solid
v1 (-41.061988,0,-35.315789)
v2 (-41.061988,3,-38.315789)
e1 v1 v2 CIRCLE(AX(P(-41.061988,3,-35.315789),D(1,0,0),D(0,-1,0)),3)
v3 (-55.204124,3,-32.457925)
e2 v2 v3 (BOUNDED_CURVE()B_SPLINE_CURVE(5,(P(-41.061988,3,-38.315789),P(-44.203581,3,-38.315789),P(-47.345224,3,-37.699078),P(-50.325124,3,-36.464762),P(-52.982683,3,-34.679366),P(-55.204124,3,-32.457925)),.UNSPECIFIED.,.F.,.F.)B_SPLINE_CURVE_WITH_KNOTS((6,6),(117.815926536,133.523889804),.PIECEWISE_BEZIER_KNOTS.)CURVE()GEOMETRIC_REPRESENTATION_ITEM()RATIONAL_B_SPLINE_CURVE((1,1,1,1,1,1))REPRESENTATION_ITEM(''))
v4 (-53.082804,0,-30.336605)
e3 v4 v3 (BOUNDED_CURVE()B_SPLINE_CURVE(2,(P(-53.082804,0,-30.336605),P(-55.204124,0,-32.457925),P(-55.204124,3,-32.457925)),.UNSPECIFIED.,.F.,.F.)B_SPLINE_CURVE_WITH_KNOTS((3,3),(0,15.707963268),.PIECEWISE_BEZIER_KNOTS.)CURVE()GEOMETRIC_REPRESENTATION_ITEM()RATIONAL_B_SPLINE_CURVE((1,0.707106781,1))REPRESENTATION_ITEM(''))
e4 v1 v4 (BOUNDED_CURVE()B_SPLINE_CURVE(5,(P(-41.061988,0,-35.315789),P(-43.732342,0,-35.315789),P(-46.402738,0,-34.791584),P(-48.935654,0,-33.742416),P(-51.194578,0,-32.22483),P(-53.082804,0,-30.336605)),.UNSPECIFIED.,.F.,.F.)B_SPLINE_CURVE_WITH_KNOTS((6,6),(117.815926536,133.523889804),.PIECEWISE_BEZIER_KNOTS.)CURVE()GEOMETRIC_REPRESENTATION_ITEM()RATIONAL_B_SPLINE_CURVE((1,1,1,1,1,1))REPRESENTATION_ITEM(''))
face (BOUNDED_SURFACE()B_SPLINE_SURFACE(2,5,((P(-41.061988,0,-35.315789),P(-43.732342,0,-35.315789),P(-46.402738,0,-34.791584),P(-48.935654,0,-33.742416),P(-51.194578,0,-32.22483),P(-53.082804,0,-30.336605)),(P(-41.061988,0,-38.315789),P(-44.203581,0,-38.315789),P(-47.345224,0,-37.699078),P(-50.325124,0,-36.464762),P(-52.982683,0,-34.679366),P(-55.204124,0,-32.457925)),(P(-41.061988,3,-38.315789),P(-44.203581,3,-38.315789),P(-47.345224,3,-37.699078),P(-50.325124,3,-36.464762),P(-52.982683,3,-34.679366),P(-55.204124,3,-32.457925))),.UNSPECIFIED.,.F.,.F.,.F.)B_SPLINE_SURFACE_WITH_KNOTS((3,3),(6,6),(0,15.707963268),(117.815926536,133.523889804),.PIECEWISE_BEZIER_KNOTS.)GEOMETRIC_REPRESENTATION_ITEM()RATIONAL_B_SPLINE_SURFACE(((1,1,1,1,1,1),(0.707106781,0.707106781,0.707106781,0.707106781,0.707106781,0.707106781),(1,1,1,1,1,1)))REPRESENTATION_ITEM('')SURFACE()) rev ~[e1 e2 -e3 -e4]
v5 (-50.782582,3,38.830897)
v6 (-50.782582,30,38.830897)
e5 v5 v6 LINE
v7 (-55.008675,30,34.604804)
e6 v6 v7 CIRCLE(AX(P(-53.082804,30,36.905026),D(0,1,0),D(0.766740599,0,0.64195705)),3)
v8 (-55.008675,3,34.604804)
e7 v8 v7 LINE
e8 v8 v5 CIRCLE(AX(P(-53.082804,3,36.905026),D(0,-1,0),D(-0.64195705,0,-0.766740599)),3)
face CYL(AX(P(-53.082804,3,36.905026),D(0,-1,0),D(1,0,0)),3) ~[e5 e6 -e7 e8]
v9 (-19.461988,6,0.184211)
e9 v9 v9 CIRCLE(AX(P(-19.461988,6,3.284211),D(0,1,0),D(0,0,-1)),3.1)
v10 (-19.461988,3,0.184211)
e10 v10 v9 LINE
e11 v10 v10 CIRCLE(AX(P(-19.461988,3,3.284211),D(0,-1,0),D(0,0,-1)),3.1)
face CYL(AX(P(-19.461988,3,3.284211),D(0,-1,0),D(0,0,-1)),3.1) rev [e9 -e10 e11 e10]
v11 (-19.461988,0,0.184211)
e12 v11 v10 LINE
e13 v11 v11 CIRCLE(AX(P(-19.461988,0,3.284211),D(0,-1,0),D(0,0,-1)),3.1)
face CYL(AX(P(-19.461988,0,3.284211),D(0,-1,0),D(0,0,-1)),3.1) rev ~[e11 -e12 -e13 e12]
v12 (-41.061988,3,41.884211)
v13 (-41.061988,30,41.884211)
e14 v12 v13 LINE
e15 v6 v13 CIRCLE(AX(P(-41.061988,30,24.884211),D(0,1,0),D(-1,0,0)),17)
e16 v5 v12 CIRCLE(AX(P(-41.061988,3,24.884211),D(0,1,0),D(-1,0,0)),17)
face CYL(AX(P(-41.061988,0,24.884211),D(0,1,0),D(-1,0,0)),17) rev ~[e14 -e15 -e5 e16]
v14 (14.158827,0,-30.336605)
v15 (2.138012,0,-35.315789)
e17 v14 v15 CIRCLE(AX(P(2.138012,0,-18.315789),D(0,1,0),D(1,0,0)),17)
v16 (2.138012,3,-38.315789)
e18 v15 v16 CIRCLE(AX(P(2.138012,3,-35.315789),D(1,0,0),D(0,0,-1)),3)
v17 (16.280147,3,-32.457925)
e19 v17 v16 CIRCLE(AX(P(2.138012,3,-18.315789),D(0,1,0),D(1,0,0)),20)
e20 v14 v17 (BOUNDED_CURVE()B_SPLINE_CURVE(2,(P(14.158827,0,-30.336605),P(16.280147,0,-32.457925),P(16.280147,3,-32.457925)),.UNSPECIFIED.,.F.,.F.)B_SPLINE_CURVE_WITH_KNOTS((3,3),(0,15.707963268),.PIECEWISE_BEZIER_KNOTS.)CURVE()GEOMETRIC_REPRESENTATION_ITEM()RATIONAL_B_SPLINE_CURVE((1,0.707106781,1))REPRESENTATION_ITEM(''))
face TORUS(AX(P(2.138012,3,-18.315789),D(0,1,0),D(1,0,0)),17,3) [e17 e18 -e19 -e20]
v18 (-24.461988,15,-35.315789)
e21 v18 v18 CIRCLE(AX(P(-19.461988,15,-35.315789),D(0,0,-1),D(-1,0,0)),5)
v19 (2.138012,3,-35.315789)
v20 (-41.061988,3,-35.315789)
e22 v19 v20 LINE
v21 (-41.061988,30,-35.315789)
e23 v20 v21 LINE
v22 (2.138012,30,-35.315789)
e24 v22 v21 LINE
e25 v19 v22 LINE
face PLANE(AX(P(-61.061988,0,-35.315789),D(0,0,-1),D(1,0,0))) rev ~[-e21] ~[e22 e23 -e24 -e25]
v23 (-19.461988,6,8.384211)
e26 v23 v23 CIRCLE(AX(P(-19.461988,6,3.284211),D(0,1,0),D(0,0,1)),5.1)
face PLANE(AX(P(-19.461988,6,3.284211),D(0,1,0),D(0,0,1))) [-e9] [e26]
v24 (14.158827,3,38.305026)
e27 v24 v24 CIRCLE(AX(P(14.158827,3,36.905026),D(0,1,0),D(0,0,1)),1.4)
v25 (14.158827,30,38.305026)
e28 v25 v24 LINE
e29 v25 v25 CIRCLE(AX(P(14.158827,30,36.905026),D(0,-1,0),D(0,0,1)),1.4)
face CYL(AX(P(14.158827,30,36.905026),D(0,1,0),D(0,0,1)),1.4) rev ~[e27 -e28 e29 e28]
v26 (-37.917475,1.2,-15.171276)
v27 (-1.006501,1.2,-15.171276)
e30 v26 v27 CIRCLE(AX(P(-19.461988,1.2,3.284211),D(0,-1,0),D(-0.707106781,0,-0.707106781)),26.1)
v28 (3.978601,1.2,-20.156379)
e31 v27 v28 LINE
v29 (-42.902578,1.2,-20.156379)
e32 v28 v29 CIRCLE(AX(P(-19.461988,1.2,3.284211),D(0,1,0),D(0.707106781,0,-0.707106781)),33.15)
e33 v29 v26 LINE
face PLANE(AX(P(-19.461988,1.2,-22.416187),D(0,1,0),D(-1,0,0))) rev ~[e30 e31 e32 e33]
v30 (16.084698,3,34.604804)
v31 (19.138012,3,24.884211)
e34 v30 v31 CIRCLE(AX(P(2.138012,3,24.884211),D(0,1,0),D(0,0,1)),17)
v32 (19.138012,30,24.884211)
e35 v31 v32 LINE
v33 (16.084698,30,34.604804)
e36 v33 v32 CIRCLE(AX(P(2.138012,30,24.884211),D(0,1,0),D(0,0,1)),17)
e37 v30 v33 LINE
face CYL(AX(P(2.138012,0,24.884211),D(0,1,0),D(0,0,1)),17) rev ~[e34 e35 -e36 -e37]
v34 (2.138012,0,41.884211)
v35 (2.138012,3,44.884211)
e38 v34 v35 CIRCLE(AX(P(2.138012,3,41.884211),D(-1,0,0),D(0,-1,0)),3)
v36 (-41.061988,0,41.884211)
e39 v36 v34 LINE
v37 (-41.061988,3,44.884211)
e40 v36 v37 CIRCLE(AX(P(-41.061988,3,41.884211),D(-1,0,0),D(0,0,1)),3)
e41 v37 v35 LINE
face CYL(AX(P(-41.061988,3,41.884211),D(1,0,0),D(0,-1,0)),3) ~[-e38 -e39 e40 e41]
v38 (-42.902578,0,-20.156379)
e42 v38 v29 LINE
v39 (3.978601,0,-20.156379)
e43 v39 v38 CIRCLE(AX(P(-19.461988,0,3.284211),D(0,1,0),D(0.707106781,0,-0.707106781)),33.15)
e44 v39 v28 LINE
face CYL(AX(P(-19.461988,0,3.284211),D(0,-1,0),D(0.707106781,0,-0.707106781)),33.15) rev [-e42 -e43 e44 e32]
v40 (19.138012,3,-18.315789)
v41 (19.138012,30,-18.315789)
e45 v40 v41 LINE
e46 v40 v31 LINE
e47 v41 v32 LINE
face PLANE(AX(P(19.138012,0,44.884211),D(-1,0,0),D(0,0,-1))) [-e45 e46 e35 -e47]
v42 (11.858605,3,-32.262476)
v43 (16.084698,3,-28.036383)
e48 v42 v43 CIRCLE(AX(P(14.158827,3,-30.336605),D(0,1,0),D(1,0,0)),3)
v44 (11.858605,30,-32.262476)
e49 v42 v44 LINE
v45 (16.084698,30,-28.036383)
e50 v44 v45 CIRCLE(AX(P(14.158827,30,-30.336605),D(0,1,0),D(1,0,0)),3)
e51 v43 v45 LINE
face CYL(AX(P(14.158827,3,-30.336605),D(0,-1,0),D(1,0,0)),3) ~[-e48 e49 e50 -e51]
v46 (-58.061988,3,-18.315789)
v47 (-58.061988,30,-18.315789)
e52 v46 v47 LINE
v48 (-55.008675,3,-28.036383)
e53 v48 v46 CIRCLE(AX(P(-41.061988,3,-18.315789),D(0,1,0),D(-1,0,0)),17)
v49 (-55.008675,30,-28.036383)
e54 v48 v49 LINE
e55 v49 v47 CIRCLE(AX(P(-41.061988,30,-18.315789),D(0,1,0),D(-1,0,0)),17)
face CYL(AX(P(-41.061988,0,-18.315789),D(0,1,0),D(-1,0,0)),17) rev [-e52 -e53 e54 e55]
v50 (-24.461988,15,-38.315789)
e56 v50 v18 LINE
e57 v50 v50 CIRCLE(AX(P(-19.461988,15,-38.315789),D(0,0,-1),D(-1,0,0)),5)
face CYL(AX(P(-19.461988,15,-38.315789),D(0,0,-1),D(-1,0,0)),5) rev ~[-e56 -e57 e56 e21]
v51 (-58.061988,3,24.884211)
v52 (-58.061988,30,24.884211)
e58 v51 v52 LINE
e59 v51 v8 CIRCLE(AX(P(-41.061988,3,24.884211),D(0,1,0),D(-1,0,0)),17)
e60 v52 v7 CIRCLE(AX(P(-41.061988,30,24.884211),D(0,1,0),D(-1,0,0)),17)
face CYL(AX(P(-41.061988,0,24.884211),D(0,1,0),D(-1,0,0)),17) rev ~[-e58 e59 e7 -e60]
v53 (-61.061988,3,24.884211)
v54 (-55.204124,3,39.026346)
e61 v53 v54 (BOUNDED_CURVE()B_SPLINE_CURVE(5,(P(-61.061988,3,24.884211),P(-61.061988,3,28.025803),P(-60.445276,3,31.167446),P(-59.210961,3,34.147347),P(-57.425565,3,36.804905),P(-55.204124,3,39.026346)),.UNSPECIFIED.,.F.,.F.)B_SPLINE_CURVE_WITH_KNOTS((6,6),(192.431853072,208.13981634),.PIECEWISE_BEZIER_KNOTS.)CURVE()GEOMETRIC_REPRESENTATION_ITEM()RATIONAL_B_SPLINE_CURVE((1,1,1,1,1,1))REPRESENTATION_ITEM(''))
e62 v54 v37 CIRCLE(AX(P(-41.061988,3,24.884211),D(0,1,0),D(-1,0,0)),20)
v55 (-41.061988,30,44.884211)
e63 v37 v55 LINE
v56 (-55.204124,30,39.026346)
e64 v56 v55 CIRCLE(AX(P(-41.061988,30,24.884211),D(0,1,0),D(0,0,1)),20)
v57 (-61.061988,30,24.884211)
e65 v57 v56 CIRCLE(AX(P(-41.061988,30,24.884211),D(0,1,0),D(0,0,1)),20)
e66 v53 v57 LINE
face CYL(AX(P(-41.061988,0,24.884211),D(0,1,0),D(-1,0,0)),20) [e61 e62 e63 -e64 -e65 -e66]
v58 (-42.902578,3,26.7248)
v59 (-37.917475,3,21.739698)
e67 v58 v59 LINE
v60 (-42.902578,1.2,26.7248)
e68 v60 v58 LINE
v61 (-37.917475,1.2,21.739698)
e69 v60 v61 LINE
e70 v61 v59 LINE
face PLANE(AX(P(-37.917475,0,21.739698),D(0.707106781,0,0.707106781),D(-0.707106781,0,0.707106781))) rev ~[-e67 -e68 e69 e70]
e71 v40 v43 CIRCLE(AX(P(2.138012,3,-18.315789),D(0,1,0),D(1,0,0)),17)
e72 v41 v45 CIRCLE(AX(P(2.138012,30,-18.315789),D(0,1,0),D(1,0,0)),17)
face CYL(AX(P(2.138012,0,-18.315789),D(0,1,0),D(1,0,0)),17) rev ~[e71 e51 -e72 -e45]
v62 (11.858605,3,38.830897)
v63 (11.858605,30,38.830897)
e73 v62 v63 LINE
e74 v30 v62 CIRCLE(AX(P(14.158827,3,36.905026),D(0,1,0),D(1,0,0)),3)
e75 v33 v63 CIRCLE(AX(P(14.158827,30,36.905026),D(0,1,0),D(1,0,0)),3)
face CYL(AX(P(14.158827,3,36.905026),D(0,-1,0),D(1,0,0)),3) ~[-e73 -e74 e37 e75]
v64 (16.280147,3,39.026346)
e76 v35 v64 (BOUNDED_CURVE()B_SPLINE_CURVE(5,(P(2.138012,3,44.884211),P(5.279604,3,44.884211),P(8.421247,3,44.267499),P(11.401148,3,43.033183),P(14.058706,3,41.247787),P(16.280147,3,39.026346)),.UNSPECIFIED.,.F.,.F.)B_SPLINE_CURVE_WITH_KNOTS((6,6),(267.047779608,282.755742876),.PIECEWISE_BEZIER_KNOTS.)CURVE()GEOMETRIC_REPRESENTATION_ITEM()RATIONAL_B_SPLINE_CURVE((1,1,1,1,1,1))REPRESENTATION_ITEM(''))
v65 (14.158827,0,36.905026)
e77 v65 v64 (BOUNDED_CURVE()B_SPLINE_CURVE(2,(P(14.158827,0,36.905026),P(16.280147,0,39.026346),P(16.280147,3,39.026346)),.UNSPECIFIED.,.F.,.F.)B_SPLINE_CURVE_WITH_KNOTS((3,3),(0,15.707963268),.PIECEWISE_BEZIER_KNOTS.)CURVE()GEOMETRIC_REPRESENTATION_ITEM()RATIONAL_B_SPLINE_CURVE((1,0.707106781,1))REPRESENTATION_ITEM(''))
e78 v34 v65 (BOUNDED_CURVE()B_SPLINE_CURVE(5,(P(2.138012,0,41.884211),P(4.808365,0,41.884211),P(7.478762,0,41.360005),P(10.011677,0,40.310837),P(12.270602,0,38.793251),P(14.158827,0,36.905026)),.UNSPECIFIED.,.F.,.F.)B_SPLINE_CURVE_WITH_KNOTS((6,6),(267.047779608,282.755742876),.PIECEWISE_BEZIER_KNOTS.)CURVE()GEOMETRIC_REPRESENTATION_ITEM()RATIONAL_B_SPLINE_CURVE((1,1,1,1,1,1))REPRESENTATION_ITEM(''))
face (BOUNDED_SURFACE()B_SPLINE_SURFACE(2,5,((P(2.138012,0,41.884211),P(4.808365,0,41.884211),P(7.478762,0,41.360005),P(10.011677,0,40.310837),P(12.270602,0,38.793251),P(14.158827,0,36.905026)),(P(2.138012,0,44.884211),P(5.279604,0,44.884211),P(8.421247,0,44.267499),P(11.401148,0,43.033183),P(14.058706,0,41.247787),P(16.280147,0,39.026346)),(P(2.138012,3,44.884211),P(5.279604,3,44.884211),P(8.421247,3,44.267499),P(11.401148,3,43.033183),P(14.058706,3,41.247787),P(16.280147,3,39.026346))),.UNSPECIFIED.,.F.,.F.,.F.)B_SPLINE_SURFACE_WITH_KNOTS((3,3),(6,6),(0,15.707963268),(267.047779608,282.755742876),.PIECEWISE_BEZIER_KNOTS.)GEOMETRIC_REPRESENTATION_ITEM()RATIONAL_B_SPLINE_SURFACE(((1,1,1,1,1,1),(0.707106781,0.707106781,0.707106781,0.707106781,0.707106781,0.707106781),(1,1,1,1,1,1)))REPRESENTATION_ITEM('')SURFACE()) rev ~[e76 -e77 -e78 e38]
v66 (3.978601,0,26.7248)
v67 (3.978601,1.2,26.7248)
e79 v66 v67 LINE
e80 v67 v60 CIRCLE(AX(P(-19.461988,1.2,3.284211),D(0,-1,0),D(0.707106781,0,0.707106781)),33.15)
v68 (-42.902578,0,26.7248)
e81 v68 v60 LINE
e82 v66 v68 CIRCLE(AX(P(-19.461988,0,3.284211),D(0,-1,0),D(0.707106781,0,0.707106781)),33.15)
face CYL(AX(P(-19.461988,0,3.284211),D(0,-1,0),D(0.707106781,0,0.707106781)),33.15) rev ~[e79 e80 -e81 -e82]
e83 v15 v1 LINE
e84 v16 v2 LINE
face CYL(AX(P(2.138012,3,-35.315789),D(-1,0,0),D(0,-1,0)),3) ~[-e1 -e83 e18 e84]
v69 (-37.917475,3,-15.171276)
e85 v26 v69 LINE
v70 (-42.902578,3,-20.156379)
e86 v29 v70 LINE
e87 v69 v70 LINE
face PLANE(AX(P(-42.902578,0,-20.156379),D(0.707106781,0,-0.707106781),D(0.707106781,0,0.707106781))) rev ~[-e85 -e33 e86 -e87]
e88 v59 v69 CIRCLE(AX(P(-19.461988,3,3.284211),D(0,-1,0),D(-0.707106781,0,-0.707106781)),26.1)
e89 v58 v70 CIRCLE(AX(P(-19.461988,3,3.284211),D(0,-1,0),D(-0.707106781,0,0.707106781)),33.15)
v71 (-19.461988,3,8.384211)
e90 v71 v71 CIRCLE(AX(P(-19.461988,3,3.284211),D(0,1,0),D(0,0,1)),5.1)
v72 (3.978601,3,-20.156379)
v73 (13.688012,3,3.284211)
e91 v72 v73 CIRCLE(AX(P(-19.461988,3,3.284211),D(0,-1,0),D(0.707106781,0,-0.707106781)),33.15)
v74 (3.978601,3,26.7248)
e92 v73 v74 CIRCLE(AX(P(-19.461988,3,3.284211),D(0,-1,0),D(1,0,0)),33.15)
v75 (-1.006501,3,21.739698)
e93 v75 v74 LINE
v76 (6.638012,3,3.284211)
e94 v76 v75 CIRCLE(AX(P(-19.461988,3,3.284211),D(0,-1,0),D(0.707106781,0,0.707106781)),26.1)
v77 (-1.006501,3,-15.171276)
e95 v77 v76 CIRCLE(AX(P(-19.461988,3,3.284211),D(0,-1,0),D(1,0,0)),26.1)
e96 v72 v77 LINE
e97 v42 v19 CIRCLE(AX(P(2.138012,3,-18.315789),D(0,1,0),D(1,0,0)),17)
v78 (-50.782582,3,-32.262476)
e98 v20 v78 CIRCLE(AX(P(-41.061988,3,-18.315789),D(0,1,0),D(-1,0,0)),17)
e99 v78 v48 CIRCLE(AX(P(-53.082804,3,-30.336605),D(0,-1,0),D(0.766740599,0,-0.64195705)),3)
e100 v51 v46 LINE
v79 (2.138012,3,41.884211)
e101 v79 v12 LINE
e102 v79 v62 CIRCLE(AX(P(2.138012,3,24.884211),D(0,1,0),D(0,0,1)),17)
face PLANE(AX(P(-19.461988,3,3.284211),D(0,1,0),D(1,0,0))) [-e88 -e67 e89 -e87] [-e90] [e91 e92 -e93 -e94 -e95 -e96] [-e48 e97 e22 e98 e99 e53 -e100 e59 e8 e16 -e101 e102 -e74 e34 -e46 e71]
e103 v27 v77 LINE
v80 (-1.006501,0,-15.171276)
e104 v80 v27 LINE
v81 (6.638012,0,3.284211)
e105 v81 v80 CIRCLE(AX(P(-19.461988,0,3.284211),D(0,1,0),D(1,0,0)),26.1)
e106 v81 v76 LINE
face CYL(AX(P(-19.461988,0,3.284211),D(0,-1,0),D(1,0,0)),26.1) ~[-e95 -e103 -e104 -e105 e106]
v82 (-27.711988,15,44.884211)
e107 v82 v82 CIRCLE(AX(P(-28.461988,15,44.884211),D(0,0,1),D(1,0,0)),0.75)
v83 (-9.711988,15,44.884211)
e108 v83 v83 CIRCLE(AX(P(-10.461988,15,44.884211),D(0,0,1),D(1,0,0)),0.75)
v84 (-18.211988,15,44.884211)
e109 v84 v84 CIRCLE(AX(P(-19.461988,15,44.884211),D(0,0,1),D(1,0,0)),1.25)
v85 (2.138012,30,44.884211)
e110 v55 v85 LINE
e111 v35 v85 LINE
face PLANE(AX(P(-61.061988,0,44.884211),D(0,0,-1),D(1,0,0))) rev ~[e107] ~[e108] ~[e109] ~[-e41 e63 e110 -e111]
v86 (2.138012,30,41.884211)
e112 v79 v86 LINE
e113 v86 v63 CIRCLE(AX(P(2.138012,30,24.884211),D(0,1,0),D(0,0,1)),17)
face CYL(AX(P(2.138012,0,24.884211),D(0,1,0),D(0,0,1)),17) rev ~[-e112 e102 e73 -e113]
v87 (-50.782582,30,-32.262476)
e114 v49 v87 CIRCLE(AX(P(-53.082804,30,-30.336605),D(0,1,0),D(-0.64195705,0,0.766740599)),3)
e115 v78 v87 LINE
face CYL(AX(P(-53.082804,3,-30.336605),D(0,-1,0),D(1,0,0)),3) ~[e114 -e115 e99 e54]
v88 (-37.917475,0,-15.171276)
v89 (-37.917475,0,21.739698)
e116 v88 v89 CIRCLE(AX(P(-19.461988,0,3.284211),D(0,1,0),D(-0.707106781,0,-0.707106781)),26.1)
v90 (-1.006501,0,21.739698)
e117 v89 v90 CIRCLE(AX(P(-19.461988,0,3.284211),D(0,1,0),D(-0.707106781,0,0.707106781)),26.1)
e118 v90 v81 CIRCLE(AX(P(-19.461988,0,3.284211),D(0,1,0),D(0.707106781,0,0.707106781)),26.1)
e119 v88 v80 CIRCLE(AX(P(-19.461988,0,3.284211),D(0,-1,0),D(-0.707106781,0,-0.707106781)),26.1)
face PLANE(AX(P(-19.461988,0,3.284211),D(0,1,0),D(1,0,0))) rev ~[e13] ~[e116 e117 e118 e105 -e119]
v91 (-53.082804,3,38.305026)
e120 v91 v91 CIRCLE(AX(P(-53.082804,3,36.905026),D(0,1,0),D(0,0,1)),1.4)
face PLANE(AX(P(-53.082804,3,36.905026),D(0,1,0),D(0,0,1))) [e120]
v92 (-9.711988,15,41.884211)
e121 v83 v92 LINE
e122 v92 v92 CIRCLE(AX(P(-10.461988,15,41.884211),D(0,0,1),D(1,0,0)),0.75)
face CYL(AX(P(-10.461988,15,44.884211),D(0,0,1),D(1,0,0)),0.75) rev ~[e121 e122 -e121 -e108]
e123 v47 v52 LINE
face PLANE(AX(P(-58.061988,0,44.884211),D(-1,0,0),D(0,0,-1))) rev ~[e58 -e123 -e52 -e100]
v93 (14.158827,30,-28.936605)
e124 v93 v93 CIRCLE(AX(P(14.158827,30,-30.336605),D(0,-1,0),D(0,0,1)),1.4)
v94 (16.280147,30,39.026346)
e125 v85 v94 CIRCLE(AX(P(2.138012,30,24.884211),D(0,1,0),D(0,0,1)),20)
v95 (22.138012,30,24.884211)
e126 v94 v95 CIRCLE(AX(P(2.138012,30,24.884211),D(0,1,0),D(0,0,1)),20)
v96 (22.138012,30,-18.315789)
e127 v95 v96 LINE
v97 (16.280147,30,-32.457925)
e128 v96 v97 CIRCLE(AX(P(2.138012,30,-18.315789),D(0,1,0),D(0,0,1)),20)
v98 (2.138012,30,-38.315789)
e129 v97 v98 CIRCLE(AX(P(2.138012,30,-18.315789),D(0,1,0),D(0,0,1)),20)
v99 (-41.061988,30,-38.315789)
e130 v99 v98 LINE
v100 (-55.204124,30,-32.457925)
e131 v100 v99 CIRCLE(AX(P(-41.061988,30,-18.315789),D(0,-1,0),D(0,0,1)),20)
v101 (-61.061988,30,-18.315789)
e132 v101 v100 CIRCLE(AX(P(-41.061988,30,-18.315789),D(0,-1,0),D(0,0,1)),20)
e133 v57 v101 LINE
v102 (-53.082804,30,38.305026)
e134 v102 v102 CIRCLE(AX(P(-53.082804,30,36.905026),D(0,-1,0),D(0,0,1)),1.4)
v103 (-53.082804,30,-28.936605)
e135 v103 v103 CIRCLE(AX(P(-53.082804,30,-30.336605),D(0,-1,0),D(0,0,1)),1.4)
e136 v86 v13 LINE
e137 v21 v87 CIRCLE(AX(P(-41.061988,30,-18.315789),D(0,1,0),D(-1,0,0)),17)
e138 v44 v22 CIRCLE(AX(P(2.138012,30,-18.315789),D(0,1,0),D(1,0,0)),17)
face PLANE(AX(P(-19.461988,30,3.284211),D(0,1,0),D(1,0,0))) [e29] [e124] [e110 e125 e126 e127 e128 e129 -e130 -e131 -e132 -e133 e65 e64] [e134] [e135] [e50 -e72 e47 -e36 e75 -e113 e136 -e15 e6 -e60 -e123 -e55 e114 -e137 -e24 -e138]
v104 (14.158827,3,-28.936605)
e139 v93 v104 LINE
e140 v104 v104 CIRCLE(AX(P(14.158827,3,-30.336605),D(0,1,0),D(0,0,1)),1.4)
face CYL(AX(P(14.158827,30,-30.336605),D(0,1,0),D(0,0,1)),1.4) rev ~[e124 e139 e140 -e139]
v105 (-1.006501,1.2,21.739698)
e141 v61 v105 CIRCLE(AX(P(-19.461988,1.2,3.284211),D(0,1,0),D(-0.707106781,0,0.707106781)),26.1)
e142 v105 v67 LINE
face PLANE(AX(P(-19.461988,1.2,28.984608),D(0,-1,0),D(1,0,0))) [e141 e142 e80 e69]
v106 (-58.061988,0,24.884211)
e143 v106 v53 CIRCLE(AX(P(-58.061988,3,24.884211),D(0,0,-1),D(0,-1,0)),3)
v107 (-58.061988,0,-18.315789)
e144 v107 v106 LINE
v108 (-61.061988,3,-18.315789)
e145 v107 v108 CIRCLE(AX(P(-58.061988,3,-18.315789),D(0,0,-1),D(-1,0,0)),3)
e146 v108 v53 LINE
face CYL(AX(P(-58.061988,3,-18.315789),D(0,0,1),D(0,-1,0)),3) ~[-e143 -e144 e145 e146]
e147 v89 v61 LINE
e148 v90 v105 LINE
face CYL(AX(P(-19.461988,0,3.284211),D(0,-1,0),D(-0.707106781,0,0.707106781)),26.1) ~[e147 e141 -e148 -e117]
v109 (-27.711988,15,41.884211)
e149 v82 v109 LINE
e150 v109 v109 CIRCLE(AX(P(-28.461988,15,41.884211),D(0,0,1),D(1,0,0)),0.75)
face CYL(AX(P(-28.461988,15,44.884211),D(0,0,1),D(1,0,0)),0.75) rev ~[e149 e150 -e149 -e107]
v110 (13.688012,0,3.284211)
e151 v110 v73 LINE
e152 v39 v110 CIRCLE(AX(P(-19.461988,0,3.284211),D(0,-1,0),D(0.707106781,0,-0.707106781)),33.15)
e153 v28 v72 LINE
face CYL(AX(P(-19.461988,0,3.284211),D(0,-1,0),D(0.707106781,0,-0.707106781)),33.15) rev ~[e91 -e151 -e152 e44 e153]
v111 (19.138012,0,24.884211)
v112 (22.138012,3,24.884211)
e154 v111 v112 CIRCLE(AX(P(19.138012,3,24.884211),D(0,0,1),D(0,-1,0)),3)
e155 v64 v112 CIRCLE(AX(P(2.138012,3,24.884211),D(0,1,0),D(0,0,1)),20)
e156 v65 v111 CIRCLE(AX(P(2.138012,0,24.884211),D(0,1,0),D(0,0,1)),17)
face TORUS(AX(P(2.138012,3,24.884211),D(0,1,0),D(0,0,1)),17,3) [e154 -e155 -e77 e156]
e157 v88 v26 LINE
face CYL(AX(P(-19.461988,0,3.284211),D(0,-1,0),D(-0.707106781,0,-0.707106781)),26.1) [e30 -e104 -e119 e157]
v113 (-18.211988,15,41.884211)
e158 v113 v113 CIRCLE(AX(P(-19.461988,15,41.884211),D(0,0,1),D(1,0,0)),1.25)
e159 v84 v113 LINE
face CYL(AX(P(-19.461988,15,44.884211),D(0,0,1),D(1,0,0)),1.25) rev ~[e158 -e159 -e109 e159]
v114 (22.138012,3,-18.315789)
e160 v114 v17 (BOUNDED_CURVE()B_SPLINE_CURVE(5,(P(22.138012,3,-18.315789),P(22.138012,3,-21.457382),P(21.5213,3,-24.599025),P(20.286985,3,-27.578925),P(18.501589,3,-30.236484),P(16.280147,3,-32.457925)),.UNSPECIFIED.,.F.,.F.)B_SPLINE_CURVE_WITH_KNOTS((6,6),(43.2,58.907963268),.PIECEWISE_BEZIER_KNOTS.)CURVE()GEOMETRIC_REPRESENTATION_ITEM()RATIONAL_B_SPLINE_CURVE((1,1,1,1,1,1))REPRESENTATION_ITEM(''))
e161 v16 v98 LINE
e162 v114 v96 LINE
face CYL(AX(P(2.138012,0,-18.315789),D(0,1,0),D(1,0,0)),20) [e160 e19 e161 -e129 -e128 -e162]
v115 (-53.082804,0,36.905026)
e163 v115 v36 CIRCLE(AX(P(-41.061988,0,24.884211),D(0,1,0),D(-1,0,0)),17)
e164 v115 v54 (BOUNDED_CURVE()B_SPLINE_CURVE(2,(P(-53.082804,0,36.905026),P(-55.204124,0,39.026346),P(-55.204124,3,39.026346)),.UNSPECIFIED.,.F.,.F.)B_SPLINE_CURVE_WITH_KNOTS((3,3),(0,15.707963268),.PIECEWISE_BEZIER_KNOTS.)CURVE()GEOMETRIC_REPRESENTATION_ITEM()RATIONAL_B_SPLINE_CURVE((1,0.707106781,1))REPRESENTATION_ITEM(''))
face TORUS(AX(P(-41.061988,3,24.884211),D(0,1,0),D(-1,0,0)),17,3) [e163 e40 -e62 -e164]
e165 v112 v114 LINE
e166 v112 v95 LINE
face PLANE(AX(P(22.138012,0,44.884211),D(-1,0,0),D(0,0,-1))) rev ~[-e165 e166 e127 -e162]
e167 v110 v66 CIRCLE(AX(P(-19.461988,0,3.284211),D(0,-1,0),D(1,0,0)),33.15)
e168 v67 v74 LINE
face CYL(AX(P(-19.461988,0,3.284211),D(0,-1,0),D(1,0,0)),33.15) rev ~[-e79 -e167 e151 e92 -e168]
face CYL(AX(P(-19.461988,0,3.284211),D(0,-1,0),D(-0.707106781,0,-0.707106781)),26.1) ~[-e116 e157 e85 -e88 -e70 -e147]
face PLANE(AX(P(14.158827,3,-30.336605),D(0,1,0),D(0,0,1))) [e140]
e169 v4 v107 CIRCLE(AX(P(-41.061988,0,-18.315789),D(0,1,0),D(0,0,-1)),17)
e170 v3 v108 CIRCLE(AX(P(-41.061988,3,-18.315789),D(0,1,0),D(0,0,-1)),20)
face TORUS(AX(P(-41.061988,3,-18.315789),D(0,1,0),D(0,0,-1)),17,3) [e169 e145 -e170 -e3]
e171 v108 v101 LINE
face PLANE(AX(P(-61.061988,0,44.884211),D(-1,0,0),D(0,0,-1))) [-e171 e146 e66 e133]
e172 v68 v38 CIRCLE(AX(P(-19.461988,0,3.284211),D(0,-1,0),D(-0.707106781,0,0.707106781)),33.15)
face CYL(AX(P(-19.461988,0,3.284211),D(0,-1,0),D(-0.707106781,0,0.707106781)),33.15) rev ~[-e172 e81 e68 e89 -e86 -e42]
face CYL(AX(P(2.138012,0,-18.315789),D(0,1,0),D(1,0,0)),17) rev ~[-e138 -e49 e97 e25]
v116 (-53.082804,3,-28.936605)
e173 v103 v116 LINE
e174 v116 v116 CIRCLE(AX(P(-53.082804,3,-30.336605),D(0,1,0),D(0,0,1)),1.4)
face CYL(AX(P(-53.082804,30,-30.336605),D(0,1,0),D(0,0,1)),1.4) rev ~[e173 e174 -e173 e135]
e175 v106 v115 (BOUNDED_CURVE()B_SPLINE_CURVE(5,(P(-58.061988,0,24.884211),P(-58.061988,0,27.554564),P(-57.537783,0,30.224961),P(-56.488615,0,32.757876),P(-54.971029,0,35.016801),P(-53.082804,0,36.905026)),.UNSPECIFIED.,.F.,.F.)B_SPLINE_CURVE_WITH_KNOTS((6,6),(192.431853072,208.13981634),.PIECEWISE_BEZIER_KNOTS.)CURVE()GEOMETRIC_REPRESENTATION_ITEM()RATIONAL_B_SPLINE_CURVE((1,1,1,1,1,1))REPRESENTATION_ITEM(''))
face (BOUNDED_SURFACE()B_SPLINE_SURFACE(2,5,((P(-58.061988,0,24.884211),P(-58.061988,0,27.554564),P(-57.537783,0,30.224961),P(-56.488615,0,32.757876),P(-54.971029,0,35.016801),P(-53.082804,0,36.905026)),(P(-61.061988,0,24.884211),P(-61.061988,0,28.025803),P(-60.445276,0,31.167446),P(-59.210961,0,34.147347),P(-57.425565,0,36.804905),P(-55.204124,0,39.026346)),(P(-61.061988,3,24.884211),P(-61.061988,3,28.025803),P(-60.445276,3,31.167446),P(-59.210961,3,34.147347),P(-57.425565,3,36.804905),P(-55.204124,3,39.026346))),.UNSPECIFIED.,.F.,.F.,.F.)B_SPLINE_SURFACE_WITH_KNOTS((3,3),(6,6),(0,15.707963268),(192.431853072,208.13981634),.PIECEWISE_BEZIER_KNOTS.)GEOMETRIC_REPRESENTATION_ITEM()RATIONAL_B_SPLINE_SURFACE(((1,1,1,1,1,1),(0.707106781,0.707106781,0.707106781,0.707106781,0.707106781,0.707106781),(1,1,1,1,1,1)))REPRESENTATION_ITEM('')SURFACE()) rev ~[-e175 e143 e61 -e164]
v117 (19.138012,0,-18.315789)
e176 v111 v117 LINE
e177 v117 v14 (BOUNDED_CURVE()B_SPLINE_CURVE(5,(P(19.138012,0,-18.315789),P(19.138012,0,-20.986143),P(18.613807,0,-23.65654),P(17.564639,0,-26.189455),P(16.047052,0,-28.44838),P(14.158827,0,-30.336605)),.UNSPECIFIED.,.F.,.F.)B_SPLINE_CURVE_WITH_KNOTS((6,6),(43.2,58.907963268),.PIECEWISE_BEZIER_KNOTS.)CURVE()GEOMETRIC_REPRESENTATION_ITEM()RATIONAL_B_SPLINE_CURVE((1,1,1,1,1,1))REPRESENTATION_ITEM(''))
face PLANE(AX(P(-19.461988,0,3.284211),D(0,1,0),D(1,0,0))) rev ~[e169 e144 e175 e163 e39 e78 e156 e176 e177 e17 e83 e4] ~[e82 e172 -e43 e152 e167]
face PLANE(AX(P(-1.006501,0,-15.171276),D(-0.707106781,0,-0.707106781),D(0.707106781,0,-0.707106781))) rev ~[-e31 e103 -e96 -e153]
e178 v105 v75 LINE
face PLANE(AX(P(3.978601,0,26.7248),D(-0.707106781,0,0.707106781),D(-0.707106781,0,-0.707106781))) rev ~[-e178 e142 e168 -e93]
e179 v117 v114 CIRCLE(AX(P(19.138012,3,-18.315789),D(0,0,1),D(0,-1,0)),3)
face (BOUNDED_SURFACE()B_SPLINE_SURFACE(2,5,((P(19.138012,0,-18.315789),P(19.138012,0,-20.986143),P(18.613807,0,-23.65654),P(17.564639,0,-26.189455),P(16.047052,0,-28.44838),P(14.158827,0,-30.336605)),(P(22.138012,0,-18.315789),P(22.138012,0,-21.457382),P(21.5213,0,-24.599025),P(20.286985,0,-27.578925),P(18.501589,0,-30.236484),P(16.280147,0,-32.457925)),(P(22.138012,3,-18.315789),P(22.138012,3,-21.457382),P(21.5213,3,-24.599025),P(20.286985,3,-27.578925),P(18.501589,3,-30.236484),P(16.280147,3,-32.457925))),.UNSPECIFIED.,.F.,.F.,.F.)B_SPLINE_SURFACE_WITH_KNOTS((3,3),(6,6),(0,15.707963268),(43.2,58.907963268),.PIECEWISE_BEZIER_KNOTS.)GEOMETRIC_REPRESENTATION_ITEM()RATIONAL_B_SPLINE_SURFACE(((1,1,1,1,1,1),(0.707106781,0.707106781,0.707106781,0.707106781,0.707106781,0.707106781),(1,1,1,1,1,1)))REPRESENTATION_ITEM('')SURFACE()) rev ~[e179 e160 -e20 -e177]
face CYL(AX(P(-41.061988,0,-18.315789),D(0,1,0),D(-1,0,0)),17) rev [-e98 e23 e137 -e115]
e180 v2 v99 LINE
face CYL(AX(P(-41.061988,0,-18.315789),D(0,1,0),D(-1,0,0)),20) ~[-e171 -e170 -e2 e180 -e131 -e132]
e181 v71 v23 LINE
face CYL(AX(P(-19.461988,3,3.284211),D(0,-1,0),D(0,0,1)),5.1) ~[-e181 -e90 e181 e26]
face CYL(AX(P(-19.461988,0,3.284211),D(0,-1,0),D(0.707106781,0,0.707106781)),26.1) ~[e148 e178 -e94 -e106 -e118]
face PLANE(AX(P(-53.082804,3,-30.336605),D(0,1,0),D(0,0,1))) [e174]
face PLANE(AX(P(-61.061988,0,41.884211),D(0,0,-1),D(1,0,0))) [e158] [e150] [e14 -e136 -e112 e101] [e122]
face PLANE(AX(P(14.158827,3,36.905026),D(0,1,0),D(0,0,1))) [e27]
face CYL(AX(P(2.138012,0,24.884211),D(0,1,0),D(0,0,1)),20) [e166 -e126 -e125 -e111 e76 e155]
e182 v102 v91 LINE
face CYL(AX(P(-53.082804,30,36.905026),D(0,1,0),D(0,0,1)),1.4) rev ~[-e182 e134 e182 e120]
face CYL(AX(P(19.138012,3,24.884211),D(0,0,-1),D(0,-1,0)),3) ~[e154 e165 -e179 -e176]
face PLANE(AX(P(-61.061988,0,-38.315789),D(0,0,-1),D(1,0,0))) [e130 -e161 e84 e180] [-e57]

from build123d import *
from build123d.topology import SkipClean

# Parameters (mm, degrees)
SKETCH1_W           = 83.2
SKETCH1_H           = 83.2
BOSS_EXTRUDE1_DEPTH = 30
FILLET1_R           = 20
SHELL2_T            = -3
SKETCH2_R           = 1.25
SKETCH2_R_2         = 0.75
CUT_EXTRUDE1_DEPTH  = 30
SKETCH3_R           = 5
CUT_EXTRUDE2_DEPTH  = 30
SKETCH4_R           = 3.1
CUT_EXTRUDE3_DEPTH  = 30
CUT_EXTRUDE4_DEPTH  = 1.2
SKETCH6_R           = 5.1
SKETCH6_R_2         = 3.1
BOSS_EXTRUDE2_DEPTH = 3
SKETCH7_R           = 3
BOSS_EXTRUDE3_DEPTH = 27
SKETCH9_R           = 1.4
CUT_EXTRUDE5_DEPTH  = 27
FILLET2_R           = 3


with BuildPart() as part:
    # Sketch1 → Boss-Extrude1 (new body)
    with BuildSketch(Plane(origin=(0, 0, 0), x_dir=(1, 0, 0), z_dir=(0, 1, 0))):
        with Locations((-19.461988304, -3.284210526)):
            Rectangle(SKETCH1_W, SKETCH1_H)
    extrude(amount=BOSS_EXTRUDE1_DEPTH)

    # Fillet1
    fillet1_edges = [part.edges().sort_by_distance(p)[0] for p in [
        (-61.061988304, 15, -38.315789474),
        (22.138011696, 15, -38.315789474),
        (22.138011696, 15, 44.884210526),
        (-61.061988304, 15, 44.884210526),
    ]]
    fillet(fillet1_edges, radius=FILLET1_R)

    # Shell2
    shell2_openings = [part.faces().sort_by_distance(p)[0] for p in [
        (-19.461988304, 30, 3.284210526),
    ]]
    offset(amount=SHELL2_T, openings=shell2_openings, kind=Kind.INTERSECTION)

    # Sketch2 → Cut-Extrude1 (cut)
    with BuildSketch(Plane.XY.offset(44.884210526)):
        with Locations((-19.461988304, 15)):
            Circle(SKETCH2_R)
        with Locations((-10.461988304, 15)):
            Circle(SKETCH2_R_2)
        with Locations((-28.461988304, 15)):
            Circle(SKETCH2_R_2)
    extrude(amount=-CUT_EXTRUDE1_DEPTH, mode=Mode.SUBTRACT)

    # Sketch3 → Cut-Extrude2 (cut)
    with BuildSketch(Plane(origin=(0, 0, -38.315789474), x_dir=(-1, 0, 0), z_dir=(0, 0, -1))):
        with Locations((19.461988304, 15)):
            Circle(SKETCH3_R)
    extrude(amount=-CUT_EXTRUDE2_DEPTH, mode=Mode.SUBTRACT)

    # Sketch4 → Cut-Extrude3 (cut)
    with BuildSketch(Plane.XZ):
        with BuildLine():
            ThreePointArc((13.688011696, 3.284210526), (11.164618199, 15.970166309), (3.978601492, 26.724800323))
            Line((3.978601492, 26.724800323), (-1.006501315, 21.739697515))
            ThreePointArc((-1.006501315, 21.739697515), (4.651267494, 13.272248111), (6.638011696, 3.284210526))
            ThreePointArc((6.638011696, 3.284210526), (4.651267494, -6.703827058), (-1.006501315, -15.171276463))
            Line((-1.006501315, -15.171276463), (3.978601492, -20.15637927))
            ThreePointArc((3.978601492, -20.15637927), (11.164618199, -9.401745257), (13.688011696, 3.284210526))
        make_face()
        with BuildLine():
            Line((-37.917475293, 21.739697515), (-42.9025781, 26.724800323))
            ThreePointArc((-42.9025781, 26.724800323), (-52.611988304, 3.284210526), (-42.9025781, -20.15637927))
            Line((-42.9025781, -20.15637927), (-37.917475293, -15.171276463))
            ThreePointArc((-37.917475293, -15.171276463), (-45.561988304, 3.284210526), (-37.917475293, 21.739697515))
        make_face()
        with Locations(Location((-19.461988304, 3.284210526, 0), (0, 0, 270))):
            Circle(SKETCH4_R)
    extrude(amount=-CUT_EXTRUDE3_DEPTH, mode=Mode.SUBTRACT)

    # Sketch5 → Cut-Extrude4 (cut)
    with SkipClean():  # the faces are left unmerged after this step: merging them gives an invalid solid
        with BuildSketch(Plane.XZ):
            with BuildLine():
                Line((-42.9025781, 26.724800323), (-37.917475293, 21.739697515))
                ThreePointArc((-37.917475293, 21.739697515), (-19.461988304, 29.384210526), (-1.006501315, 21.739697515))
                Line((-1.006501315, 21.739697515), (3.978601492, 26.724800323))
                ThreePointArc((3.978601492, 26.724800323), (-19.461988304, 36.434210526), (-42.9025781, 26.724800323))
            make_face()
            with BuildLine():
                Line((-1.006501315, -15.171276463), (3.978601492, -20.15637927))
                ThreePointArc((3.978601492, -20.15637927), (-19.461988304, -29.865789474), (-42.9025781, -20.15637927))
                Line((-42.9025781, -20.15637927), (-37.917475293, -15.171276463))
                ThreePointArc((-37.917475293, -15.171276463), (-19.461988304, -22.815789474), (-1.006501315, -15.171276463))
            make_face()
        extrude(amount=-CUT_EXTRUDE4_DEPTH, mode=Mode.SUBTRACT)

    # Sketch6 → Boss-Extrude2 (add)
    with SkipClean():  # the faces are left unmerged after this step: merging them gives an invalid solid
        with BuildSketch(Plane(origin=(0, 3, 0), x_dir=(1, 0, 0), z_dir=(0, 1, 0))):
            with Locations(Location((-19.461988304, -3.284210526, 0), (0, 0, 270))):
                Circle(SKETCH6_R)
            with Locations(Location((-19.461988304, -3.284210526, 0), (0, 0, 90))):
                Circle(SKETCH6_R_2, mode=Mode.SUBTRACT)
        extrude(amount=BOSS_EXTRUDE2_DEPTH)

    # Sketch7 → Boss-Extrude3 (add)
    with SkipClean():  # the faces are left unmerged after this step: merging them gives an invalid solid
        with BuildSketch(Plane(origin=(0, 3, 0), x_dir=(1, 0, 0), z_dir=(0, 1, 0))):
            with Locations((-53.082803584, 30.336604754)):
                Circle(SKETCH7_R)
            with Locations((-53.082803584, -36.905025806)):
                Circle(SKETCH7_R)
            with Locations((14.158826976, -36.905025806)):
                Circle(SKETCH7_R)
            with Locations((14.158826976, 30.336604754)):
                Circle(SKETCH7_R)
        extrude(amount=BOSS_EXTRUDE3_DEPTH)

    # Sketch9 → Cut-Extrude5 (cut)
    with SkipClean():  # the faces are left unmerged after this step: merging them gives an invalid solid
        with BuildSketch(Plane(origin=(0, 30, 0), x_dir=(1, 0, 0), z_dir=(0, 1, 0))):
            with Locations(Location((-53.082803584, 30.336604754, 0), (0, 0, 270))):
                Circle(SKETCH9_R)
            with Locations(Location((14.158826976, 30.336604754, 0), (0, 0, 270))):
                Circle(SKETCH9_R)
            with Locations(Location((14.158826976, -36.905025806, 0), (0, 0, 270))):
                Circle(SKETCH9_R)
            with Locations(Location((-53.082803584, -36.905025806, 0), (0, 0, 270))):
                Circle(SKETCH9_R)
        extrude(amount=-CUT_EXTRUDE5_DEPTH, mode=Mode.SUBTRACT)

    # Fillet2
    fillet2_edges = [part.edges().sort_by_distance(p)[0] for p in [
        (22.138011696, 0, 3.284210526),
        (-61.061988304, 0, 3.284210526),
        (-19.461988304, 0, -38.315789474),
        (-19.461988304, 0, 44.884210526),
        (-55.204123928, 0, 39.02634615),
        (-55.204123928, 0, -32.457925097),
        (16.28014732, 0, -32.457925097),
        (16.28014732, 0, 39.02634615),
    ]]
    fillet(fillet2_edges, radius=FILLET2_R)


solid = part.part
